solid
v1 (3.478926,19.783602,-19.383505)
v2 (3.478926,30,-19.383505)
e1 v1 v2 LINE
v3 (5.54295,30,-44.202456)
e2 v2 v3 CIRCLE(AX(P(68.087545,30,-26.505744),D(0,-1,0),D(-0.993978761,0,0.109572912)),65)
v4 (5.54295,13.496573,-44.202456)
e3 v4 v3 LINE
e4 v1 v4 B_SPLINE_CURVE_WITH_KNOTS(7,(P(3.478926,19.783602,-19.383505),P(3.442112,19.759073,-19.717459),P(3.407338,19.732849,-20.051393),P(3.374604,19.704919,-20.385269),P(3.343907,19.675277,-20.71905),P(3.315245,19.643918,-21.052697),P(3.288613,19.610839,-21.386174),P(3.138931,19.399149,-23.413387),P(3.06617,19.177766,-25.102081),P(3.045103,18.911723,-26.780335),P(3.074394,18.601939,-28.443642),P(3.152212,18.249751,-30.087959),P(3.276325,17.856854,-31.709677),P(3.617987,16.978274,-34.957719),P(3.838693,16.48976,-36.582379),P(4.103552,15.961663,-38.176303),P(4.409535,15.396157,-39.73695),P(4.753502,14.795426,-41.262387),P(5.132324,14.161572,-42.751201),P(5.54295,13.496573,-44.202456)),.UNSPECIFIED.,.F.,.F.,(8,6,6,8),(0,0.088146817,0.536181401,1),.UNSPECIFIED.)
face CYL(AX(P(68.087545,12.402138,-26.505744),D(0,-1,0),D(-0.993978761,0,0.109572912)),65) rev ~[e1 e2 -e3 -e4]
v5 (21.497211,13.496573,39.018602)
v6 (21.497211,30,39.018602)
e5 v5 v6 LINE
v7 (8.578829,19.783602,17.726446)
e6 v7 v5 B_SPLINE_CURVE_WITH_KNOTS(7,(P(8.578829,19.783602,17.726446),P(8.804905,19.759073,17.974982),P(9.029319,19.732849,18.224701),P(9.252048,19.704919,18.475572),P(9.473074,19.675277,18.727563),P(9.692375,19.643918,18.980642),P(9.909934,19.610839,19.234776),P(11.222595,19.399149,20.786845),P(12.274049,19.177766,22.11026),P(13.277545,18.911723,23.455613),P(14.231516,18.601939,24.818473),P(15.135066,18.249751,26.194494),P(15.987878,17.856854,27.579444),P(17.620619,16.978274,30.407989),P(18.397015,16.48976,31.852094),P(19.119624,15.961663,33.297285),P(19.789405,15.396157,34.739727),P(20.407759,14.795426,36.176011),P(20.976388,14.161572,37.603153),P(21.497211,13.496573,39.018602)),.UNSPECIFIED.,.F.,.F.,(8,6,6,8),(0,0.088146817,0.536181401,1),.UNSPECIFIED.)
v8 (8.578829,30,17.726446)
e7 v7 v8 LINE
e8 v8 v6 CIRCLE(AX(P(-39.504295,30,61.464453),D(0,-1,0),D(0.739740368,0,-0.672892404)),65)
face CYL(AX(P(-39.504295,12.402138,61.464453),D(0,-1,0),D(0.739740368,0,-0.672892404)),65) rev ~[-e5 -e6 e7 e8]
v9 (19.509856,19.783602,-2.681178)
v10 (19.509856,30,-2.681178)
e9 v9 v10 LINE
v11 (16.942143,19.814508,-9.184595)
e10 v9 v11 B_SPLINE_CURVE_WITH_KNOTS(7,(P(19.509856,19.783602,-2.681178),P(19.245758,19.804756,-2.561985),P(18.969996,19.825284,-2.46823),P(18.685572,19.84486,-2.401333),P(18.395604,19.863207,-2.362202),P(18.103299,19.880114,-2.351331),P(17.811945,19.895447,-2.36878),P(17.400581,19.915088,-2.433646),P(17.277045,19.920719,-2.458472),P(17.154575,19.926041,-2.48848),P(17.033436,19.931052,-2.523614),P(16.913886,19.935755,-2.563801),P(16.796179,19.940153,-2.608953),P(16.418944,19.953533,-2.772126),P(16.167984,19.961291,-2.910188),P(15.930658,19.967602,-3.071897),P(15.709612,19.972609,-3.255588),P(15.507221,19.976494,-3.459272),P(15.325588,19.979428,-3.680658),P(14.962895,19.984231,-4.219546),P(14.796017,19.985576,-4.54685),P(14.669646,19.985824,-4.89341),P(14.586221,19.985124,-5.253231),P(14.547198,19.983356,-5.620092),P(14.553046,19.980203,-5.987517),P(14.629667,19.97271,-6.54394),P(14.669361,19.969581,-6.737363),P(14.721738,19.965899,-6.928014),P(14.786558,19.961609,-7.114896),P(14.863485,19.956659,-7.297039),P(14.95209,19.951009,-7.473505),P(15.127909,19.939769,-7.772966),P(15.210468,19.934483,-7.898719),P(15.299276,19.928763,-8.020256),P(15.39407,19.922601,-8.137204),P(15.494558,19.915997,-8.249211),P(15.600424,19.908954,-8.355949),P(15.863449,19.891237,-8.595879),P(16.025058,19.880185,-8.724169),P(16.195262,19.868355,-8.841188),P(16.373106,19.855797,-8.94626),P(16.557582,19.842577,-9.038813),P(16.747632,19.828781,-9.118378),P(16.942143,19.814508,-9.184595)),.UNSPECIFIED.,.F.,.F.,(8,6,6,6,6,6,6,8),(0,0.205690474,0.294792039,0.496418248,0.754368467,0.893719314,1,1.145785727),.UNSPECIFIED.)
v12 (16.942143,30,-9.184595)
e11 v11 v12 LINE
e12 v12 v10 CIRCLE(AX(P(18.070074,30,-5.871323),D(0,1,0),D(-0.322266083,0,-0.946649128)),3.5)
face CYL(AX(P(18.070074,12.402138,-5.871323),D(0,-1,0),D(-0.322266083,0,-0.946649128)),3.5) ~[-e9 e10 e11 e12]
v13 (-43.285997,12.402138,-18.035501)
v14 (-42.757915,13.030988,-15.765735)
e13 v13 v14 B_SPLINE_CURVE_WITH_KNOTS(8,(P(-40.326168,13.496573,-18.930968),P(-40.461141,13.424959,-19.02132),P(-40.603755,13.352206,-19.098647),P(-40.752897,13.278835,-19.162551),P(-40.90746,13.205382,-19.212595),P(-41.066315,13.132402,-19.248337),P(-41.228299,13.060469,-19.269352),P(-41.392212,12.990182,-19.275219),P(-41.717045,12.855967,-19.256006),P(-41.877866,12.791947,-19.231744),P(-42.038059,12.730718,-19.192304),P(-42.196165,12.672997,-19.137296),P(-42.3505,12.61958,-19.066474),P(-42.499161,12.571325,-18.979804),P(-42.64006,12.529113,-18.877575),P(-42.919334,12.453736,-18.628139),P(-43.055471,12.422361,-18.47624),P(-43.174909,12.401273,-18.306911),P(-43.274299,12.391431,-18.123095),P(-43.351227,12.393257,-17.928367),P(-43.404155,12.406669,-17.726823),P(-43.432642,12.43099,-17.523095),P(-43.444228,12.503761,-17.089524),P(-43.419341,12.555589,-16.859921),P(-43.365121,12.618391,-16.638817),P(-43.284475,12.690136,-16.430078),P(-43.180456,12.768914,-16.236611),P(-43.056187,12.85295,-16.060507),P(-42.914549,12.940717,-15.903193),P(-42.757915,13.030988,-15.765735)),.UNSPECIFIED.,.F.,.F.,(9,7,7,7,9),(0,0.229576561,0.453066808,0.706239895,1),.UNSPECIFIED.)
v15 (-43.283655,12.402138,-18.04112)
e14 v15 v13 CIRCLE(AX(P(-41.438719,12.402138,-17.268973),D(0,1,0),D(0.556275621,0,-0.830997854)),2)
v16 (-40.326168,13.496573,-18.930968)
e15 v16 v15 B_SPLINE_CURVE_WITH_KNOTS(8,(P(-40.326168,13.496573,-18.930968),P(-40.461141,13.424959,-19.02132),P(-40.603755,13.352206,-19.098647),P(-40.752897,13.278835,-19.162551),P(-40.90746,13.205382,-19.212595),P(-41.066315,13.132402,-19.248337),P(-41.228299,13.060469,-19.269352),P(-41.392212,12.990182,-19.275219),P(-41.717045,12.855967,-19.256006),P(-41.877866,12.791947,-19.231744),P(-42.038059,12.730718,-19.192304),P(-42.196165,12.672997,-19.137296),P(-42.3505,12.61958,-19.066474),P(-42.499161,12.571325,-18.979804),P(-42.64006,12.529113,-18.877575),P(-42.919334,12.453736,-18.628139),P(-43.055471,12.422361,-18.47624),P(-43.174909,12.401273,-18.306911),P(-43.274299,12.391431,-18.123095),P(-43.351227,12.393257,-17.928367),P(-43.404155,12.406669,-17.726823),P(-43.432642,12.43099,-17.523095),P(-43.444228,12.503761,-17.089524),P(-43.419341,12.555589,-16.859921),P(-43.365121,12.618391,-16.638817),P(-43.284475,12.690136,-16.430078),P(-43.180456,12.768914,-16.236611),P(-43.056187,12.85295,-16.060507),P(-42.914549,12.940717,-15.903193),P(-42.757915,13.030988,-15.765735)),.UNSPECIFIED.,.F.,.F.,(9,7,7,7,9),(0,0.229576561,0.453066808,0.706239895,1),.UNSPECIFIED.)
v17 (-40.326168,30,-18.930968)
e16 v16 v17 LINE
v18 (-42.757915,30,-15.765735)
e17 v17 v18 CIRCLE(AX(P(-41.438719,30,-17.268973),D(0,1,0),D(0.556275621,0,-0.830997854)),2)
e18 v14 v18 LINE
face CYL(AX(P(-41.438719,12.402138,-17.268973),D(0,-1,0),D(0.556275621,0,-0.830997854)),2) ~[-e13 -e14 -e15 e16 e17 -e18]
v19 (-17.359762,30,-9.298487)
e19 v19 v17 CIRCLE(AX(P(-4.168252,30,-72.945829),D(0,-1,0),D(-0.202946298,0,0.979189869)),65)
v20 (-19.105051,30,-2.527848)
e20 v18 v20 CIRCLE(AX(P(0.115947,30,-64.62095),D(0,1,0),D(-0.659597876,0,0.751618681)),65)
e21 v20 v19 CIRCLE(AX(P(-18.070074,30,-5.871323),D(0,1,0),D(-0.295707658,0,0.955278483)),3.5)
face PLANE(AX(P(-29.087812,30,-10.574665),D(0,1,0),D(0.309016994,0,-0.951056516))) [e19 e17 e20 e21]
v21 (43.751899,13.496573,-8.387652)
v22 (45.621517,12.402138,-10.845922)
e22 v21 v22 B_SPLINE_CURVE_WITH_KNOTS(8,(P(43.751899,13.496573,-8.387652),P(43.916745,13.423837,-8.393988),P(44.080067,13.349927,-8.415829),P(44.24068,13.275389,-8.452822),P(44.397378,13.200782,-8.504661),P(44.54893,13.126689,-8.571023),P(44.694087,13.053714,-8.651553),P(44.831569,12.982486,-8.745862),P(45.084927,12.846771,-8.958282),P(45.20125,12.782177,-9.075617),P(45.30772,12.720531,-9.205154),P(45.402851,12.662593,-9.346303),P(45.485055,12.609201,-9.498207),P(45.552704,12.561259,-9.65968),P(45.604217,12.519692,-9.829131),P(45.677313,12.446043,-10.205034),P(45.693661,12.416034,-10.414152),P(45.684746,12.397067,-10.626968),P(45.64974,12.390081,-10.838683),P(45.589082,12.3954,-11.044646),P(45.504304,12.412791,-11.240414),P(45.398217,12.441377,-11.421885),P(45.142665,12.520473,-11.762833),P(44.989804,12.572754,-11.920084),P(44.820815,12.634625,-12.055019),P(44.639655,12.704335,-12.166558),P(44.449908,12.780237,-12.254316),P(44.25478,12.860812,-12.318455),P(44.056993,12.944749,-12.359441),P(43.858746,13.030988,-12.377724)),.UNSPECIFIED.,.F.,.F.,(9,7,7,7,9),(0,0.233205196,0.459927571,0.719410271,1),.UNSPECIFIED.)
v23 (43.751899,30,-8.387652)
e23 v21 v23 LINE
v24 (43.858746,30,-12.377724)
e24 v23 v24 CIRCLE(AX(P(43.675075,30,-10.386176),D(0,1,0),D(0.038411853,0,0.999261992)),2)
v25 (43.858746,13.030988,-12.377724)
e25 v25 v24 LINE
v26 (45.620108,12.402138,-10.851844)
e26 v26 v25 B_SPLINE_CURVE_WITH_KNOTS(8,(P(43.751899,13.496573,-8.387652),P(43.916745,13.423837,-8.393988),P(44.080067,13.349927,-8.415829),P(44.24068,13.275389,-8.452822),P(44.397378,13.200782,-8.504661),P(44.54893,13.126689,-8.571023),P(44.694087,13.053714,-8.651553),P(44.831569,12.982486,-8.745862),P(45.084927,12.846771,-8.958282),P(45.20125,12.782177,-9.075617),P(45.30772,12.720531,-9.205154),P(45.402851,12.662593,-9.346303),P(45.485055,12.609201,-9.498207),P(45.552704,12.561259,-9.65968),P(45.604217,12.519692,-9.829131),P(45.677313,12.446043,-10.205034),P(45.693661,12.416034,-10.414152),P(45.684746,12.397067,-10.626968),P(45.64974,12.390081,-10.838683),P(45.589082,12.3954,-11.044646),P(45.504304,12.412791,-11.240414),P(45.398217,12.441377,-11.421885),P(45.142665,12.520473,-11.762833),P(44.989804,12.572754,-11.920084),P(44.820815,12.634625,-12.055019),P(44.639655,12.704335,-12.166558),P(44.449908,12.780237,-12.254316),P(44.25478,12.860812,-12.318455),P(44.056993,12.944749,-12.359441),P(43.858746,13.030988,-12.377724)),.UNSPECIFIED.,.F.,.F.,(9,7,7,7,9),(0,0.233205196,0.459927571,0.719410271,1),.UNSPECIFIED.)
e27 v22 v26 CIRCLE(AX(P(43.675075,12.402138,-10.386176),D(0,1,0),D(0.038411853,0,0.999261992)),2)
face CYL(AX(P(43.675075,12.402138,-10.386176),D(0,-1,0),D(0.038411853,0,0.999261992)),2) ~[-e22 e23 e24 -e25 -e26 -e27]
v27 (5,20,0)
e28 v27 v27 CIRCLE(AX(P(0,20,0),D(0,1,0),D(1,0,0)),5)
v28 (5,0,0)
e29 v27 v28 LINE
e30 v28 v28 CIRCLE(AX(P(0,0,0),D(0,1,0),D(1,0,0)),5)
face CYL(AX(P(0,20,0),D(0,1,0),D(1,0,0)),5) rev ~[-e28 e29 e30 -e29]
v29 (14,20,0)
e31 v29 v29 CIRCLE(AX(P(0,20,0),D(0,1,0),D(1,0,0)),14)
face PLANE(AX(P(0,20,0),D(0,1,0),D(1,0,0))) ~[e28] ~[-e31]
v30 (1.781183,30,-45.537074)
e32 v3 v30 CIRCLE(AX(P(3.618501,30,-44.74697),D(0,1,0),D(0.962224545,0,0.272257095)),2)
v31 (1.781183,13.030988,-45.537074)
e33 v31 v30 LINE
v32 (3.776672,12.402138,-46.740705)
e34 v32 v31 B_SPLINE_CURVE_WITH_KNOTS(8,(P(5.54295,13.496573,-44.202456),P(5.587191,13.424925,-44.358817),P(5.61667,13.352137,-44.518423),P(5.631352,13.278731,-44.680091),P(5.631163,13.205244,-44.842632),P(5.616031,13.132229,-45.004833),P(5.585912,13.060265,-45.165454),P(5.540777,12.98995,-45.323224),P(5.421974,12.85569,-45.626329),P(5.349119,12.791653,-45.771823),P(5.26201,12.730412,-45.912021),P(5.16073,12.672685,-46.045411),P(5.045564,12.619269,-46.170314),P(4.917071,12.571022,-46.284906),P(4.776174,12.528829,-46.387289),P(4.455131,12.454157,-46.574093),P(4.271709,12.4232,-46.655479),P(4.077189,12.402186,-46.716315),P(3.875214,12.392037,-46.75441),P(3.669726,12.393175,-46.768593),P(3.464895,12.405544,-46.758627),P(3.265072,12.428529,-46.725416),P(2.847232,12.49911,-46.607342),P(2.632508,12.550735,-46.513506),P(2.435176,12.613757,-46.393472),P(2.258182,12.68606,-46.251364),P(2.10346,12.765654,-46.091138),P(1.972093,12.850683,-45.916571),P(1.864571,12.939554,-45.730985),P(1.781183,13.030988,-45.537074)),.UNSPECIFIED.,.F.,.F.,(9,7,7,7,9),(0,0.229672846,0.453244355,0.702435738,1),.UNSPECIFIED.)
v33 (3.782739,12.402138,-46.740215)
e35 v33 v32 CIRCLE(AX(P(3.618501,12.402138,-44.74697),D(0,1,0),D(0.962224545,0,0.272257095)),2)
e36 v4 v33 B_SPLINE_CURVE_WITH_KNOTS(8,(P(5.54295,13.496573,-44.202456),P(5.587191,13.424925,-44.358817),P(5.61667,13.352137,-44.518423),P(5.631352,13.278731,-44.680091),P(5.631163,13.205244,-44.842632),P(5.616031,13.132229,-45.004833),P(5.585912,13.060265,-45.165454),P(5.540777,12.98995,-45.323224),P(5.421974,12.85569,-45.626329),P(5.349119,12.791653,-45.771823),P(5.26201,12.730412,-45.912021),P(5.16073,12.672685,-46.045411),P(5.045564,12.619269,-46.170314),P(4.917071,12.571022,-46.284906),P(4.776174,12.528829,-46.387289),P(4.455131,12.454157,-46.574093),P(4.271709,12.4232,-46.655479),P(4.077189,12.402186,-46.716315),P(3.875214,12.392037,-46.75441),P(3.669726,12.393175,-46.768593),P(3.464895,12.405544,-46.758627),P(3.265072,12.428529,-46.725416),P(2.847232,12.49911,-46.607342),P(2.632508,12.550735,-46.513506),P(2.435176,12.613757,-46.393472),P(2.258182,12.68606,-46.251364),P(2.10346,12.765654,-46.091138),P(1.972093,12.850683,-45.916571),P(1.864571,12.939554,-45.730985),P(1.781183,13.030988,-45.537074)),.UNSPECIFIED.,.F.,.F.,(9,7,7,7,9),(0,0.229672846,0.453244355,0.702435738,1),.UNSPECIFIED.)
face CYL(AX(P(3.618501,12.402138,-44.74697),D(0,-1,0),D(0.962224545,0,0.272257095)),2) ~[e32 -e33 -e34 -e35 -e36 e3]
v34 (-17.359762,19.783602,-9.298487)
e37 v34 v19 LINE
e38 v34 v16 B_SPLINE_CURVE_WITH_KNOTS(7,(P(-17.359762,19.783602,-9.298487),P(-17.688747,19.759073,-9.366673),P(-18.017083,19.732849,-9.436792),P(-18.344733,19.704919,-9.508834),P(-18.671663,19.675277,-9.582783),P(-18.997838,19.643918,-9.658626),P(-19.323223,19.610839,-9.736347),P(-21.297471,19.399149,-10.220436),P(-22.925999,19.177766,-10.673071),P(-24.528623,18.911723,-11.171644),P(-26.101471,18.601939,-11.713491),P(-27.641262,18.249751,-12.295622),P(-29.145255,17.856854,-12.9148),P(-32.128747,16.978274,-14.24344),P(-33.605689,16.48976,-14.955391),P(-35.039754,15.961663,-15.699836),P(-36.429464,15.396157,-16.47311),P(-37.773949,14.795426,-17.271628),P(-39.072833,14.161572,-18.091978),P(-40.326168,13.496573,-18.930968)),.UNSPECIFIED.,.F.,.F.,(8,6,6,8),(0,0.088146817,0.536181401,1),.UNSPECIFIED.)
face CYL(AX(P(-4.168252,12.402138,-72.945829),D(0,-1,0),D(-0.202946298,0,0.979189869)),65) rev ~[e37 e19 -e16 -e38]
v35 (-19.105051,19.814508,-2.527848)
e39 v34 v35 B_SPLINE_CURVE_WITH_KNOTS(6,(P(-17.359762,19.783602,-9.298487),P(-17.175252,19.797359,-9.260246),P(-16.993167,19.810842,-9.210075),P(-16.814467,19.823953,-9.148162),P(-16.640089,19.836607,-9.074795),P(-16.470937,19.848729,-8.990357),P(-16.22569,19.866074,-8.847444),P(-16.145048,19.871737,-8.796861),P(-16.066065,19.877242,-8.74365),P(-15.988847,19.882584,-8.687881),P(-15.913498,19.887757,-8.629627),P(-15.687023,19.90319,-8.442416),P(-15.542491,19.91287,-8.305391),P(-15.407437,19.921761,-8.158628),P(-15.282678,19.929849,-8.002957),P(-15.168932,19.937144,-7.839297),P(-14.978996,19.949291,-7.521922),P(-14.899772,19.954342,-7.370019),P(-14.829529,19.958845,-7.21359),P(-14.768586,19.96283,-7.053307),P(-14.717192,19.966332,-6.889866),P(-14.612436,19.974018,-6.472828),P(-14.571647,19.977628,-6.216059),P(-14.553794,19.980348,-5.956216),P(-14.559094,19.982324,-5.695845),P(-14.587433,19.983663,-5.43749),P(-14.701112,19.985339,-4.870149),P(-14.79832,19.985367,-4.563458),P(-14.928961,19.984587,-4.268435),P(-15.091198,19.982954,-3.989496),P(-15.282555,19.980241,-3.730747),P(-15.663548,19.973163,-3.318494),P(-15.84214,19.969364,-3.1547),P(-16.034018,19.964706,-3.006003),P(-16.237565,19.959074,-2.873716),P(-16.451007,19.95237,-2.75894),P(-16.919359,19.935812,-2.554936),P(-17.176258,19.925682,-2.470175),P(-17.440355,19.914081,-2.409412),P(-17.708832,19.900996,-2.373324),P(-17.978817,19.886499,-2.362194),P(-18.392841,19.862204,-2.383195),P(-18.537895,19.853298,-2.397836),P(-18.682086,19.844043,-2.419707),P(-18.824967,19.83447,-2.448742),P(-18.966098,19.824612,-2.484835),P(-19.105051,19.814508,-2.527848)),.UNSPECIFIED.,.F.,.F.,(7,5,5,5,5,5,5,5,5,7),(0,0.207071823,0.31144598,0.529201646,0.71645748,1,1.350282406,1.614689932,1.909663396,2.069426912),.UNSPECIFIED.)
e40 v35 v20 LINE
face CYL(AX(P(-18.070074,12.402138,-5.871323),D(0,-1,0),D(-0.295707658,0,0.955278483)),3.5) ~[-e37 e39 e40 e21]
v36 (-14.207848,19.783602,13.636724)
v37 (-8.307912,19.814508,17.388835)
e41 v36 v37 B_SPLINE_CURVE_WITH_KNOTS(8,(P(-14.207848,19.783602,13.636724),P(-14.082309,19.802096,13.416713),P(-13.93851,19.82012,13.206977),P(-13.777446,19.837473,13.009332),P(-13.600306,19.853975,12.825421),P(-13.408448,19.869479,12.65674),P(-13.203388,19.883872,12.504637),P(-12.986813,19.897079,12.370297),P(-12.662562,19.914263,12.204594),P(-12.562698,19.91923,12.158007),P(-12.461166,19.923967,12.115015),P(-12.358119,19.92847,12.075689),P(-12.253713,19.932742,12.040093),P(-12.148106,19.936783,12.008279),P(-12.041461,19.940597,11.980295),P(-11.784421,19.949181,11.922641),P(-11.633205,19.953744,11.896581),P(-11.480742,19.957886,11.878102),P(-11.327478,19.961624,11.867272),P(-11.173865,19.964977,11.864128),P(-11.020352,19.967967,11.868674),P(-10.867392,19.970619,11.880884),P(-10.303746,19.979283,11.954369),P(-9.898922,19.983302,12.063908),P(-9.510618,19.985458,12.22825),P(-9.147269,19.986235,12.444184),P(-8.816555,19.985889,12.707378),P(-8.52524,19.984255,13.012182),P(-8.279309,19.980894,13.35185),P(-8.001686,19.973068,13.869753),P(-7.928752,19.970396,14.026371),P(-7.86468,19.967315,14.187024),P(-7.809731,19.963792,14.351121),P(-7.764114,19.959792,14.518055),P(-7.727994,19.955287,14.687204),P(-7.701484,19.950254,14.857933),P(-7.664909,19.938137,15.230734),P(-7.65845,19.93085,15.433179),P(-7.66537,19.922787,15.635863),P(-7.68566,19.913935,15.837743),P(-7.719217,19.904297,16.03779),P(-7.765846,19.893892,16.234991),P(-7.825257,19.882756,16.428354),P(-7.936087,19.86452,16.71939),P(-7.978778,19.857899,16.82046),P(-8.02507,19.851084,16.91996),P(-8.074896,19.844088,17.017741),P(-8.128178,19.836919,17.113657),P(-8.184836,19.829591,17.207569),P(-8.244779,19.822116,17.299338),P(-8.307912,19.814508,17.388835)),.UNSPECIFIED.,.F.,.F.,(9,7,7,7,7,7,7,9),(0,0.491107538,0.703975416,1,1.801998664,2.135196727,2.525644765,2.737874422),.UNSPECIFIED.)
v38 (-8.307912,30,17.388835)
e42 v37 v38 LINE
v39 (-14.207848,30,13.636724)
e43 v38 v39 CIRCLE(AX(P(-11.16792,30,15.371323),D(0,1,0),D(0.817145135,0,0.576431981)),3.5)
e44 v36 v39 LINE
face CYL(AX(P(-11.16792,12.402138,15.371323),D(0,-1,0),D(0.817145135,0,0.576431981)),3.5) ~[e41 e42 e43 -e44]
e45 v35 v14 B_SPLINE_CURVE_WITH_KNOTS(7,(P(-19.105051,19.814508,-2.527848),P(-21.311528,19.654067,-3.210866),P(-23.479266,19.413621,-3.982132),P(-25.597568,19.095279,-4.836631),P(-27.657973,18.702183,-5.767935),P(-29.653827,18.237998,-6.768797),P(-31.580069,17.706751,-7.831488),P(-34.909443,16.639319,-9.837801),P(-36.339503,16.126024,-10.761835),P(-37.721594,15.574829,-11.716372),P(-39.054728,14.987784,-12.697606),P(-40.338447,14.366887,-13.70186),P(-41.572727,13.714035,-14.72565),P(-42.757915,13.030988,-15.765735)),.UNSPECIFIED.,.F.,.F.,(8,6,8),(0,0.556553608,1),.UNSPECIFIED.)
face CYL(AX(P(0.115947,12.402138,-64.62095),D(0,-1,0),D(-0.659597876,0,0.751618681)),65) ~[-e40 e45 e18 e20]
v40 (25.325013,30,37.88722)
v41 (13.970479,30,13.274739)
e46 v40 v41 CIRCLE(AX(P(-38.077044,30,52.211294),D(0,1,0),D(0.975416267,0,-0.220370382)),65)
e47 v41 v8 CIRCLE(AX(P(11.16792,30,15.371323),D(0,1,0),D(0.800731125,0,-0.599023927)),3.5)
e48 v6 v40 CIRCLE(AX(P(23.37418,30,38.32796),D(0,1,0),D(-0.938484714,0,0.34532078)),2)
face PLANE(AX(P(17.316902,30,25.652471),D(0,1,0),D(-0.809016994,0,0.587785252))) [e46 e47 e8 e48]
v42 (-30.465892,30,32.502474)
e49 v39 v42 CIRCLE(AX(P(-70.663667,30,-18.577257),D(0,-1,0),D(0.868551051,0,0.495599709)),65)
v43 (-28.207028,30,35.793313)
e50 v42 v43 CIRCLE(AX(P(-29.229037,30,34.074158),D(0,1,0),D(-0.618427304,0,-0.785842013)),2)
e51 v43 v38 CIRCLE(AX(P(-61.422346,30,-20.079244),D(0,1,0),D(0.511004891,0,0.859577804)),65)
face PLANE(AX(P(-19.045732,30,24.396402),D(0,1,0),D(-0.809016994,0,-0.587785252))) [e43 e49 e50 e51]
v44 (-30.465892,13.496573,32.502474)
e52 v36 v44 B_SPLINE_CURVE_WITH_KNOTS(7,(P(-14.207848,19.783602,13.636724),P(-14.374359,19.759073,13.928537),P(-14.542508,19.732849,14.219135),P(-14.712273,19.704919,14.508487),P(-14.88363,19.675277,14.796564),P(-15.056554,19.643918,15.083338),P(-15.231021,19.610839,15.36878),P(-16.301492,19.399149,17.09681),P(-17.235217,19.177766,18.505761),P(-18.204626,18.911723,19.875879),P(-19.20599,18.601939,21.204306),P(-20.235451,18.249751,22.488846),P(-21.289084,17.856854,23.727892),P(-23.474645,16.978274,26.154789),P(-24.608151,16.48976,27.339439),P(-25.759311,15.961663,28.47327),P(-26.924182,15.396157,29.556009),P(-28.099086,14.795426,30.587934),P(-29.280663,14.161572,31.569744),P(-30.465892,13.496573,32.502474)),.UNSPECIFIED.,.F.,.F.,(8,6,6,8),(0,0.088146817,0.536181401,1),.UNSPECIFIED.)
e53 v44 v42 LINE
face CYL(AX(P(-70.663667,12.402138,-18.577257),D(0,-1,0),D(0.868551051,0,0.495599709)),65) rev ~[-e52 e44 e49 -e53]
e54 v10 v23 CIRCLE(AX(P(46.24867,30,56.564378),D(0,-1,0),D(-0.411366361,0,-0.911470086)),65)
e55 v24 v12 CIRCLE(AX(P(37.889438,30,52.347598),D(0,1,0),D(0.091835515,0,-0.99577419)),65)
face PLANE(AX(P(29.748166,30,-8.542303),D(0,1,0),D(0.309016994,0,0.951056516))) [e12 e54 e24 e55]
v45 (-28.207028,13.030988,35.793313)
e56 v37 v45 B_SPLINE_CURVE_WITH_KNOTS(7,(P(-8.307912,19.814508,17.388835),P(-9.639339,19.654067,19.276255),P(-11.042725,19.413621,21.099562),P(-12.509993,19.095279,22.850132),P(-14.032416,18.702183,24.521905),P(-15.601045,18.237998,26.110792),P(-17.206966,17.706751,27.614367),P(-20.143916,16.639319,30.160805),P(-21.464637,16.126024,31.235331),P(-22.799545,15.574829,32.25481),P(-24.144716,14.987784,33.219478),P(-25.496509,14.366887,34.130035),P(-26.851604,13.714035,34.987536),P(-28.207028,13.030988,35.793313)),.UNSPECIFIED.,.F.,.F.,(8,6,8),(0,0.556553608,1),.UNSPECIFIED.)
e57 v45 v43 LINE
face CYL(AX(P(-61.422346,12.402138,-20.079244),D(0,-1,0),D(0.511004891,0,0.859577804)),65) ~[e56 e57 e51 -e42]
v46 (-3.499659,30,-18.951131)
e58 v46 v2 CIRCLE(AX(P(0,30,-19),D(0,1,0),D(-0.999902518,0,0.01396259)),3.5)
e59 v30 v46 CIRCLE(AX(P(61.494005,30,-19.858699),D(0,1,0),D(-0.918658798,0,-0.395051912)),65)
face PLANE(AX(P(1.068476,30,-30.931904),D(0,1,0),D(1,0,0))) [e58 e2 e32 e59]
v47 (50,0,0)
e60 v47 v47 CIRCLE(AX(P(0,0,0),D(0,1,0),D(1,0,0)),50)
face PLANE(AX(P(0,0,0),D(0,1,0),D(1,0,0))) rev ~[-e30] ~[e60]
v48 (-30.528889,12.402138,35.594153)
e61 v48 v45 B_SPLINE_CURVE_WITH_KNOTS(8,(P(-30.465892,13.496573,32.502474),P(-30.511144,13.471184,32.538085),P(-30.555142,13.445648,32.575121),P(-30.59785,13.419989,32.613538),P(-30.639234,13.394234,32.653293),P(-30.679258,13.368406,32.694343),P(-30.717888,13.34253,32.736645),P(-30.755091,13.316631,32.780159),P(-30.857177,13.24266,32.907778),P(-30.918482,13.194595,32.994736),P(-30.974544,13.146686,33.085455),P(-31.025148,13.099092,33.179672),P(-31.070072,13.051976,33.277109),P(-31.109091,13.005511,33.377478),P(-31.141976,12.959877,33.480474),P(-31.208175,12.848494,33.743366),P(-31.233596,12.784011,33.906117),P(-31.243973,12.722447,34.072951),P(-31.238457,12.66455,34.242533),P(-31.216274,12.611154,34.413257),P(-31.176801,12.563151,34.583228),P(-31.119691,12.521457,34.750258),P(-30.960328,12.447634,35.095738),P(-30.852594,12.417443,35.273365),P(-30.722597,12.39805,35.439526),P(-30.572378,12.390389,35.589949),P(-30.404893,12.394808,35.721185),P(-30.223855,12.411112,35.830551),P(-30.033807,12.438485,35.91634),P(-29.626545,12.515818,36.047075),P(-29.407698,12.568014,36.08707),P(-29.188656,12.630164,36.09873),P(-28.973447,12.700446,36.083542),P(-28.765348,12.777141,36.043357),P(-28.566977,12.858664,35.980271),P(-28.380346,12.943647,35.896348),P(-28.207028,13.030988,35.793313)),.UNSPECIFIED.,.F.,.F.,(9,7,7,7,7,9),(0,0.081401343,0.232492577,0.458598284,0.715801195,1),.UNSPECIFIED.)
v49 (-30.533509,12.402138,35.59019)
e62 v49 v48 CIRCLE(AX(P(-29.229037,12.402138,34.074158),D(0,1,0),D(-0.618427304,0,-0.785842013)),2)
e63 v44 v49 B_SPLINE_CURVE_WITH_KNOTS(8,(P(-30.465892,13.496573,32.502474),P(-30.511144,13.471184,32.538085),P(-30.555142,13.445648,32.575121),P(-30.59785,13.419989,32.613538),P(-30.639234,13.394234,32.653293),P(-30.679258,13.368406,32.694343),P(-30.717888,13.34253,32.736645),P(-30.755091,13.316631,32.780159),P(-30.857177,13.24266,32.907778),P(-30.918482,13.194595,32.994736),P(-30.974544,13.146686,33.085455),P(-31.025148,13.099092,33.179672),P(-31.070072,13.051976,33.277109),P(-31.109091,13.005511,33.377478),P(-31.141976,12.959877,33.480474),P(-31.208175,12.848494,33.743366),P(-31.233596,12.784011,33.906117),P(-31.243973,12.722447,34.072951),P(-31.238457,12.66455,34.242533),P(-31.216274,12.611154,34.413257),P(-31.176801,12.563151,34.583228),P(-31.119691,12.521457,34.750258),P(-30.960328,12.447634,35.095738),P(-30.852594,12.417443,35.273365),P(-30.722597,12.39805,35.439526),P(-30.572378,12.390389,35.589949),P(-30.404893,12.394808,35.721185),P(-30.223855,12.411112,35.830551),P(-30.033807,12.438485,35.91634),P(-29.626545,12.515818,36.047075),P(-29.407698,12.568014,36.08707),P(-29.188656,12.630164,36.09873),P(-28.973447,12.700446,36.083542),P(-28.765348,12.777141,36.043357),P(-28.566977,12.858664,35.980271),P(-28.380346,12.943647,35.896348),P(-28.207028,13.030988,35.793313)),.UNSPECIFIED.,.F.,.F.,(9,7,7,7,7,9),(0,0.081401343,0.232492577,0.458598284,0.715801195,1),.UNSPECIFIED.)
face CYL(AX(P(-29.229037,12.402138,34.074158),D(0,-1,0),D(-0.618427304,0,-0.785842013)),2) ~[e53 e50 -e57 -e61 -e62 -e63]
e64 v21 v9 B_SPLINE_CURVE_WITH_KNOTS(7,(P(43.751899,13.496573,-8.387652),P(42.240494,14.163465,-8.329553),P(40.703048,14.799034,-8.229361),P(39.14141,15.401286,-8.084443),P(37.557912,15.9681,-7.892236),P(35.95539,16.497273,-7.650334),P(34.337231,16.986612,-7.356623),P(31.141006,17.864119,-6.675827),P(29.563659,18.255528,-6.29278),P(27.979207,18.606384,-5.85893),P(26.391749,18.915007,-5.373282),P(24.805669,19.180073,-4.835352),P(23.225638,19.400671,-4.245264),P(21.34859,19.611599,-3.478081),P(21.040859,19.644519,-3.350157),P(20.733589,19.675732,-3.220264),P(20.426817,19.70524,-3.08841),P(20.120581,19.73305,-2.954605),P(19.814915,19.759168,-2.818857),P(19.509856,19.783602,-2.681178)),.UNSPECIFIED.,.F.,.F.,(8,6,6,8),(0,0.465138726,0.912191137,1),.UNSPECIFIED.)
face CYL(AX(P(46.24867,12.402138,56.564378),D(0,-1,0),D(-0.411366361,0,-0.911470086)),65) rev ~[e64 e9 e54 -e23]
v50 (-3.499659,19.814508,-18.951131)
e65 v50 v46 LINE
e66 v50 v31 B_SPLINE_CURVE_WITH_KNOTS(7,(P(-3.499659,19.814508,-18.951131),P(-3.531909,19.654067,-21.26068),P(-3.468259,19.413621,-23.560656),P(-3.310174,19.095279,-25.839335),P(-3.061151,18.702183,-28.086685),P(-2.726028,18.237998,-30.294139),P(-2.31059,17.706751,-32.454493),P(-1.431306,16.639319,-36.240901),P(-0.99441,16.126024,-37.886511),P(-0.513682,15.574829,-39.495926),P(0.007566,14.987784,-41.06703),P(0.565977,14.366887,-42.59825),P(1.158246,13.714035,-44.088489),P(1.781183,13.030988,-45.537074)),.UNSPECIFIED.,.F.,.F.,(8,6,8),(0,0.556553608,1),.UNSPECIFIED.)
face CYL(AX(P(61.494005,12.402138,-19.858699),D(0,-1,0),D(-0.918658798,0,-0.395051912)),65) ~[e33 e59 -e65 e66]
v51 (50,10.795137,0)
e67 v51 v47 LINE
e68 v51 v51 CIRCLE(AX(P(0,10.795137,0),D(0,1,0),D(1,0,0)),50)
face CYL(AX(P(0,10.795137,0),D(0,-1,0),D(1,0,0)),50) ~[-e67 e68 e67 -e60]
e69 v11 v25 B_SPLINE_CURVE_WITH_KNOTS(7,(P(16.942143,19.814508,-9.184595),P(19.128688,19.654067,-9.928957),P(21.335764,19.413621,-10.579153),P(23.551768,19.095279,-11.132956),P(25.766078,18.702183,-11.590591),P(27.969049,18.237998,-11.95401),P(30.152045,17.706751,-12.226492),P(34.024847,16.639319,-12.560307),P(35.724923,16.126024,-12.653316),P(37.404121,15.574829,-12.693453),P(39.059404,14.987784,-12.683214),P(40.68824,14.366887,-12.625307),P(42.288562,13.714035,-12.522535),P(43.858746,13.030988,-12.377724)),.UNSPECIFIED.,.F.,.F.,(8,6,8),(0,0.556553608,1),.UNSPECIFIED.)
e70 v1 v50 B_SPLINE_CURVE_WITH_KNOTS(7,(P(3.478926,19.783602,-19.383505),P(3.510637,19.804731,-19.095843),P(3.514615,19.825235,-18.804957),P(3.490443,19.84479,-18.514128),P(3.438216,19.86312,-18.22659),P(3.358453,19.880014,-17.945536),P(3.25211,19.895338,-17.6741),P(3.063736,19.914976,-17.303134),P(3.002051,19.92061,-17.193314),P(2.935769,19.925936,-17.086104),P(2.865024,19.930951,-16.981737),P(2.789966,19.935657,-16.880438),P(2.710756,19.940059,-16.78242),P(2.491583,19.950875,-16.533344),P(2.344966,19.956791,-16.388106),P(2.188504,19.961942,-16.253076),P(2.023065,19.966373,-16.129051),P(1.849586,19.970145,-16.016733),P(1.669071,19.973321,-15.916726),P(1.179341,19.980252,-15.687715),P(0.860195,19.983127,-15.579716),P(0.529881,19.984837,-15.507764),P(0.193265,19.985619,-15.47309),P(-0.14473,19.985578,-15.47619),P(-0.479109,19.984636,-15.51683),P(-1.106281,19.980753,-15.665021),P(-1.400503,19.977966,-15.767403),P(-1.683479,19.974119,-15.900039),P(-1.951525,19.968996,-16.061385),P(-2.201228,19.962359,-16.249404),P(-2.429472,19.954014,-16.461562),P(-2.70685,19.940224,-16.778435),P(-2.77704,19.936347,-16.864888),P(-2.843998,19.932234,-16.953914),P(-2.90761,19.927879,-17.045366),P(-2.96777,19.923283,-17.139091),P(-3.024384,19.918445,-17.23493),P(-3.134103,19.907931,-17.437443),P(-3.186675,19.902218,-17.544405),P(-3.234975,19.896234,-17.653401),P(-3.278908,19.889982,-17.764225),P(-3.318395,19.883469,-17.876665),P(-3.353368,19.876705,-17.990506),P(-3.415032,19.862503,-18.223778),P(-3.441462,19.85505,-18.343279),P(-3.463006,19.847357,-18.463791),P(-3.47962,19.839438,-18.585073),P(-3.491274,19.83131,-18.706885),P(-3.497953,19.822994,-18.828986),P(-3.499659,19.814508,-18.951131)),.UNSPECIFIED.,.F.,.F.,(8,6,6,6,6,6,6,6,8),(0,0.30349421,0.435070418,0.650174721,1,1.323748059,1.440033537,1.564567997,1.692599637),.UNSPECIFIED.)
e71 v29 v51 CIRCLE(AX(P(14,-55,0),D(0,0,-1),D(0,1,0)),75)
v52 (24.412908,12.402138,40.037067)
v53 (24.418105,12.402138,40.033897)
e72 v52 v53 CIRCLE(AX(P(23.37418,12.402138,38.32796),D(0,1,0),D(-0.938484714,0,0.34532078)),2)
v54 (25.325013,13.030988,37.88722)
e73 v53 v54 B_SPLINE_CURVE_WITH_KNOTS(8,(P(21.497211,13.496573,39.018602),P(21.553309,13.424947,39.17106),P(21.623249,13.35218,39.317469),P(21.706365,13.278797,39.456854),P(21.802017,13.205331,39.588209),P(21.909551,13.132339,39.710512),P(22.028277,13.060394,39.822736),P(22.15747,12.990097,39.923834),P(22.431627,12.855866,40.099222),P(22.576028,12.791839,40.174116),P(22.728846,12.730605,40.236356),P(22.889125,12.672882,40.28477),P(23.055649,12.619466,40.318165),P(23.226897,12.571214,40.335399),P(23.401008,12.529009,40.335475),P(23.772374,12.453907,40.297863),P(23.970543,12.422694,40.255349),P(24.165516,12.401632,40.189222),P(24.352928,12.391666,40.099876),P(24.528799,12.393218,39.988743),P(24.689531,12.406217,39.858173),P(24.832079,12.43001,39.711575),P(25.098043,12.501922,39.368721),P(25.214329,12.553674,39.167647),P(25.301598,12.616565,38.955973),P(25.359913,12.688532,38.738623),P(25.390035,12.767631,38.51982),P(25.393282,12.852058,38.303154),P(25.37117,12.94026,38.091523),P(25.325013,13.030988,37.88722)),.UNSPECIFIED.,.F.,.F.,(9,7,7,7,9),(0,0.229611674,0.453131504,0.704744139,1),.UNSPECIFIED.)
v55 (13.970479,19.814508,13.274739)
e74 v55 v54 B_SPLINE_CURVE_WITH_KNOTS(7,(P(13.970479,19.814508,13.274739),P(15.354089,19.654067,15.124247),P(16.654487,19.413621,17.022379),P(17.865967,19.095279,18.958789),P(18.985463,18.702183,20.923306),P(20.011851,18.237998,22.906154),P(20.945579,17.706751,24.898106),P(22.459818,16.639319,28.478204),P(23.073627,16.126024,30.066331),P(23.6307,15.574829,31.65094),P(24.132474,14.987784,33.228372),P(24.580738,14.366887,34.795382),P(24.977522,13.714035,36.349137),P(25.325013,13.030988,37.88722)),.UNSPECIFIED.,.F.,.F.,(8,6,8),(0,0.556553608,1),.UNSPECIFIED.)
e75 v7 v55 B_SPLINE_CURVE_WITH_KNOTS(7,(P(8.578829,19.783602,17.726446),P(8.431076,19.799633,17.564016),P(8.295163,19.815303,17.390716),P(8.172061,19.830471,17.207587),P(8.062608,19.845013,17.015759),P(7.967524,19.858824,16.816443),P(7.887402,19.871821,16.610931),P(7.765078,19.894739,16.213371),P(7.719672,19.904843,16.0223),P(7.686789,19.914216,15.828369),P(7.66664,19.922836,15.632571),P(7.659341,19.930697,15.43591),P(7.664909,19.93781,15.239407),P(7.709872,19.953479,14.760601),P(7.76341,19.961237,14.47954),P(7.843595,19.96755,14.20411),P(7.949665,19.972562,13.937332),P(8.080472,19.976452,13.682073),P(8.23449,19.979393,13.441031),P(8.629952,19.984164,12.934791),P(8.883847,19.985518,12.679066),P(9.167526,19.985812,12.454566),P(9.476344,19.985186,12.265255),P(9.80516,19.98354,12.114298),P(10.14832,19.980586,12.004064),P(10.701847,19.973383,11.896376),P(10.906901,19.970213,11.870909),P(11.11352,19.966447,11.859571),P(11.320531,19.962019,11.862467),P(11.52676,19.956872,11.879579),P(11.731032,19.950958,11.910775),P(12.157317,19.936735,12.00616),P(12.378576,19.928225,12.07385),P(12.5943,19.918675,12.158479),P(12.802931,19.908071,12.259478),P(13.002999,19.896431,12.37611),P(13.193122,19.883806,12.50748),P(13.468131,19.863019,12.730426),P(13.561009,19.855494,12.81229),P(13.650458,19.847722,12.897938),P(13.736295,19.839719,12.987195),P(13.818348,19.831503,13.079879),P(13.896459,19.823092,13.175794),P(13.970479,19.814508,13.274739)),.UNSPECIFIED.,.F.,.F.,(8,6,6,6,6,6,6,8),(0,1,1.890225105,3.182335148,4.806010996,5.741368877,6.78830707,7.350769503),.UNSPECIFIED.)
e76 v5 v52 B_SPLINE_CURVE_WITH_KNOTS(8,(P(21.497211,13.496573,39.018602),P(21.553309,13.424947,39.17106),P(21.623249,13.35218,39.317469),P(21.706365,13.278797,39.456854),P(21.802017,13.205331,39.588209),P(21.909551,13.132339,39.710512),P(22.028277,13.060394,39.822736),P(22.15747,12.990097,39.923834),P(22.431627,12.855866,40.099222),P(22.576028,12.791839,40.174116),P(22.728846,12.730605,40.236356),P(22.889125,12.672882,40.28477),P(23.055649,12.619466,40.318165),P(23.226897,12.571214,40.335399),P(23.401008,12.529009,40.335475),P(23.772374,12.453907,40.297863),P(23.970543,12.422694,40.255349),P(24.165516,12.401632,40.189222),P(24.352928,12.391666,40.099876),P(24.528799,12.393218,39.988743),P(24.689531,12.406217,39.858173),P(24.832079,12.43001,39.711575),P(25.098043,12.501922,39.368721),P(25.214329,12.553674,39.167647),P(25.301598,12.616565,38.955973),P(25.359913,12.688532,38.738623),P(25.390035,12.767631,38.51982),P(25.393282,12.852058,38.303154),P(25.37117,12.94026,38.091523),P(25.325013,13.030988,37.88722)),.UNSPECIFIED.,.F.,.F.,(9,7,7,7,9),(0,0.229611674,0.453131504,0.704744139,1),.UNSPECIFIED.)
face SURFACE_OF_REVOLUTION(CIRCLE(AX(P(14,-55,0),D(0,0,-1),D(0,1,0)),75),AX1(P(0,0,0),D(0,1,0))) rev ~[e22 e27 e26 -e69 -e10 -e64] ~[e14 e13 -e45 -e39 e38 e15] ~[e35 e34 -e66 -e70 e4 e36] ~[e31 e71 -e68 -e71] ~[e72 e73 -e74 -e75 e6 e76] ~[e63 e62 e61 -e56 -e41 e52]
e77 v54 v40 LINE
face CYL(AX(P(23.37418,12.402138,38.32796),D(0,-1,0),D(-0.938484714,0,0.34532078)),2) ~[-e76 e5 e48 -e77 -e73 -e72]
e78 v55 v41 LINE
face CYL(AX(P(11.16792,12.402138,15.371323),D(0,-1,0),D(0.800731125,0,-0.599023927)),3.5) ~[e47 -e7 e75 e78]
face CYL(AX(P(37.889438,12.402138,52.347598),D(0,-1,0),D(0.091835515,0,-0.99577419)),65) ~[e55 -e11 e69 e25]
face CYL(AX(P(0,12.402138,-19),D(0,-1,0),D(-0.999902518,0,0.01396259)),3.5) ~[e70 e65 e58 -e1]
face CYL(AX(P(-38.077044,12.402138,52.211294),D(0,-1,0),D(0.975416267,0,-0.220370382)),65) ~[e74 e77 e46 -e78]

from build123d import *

# Parameters (mm, degrees)
ODEBRAT_VYSUNUT_M1_REACH = 22
SKICA2_R                 = 5
P_IDAT_START             = -7.597862
P_IDAT_VYSUNUT_M1_DEPTH  = 17.597862
KRUHOV_POLE1_COUNT       = 5


with BuildPart() as part:
    # Skica1 → Rotovat1 (revolve)
    with BuildSketch(Plane.XY):
        with BuildLine():
            Line((0, 0), (0, 20))
            Line((0, 20), (14, 20))
            ThreePointArc((14, 20), (32.579084411, 17.662353543), (50, 10.795136598))
            Line((50, 10.795136598), (50, 0))
            Line((50, 0), (0, 0))
        make_face()
    revolve(axis=Axis((0, 0, 0), (0, 1, 0)))

    # Skica2 → Odebrat vysunutím1 (cut, up to next)
    with BuildSketch(Plane(origin=(0, 20, 0), x_dir=(1, 0, 0), z_dir=(0, 1, 0)), mode=Mode.PRIVATE) as odebrat_vysunut_m1_sk1:
        Circle(SKICA2_R)
    odebrat_vysunut_m1_tool1 = extrude(odebrat_vysunut_m1_sk1.sketch, amount=-ODEBRAT_VYSUNUT_M1_REACH, mode=Mode.PRIVATE) & part.part
    add(odebrat_vysunut_m1_tool1.solids().sort_by_distance((0, 20, 0))[0], mode=Mode.SUBTRACT)

    # Skica3 → Přidat vysunutím1 (add)
    with BuildSketch(Plane(origin=(0, 20, 0), x_dir=(1, 0, 0), z_dir=(0, 1, 0)).offset(P_IDAT_START)):
        with BuildLine():
            ThreePointArc((5.542949714, 44.202455598), (4.287230231, 46.631857241), (1.78118303, 45.537073612))
            ThreePointArc((1.78118303, 45.537073612), (-2.260445719, 32.522428192), (-3.499658814, 18.951130934))
            ThreePointArc((-3.499658814, 18.951130934), (0.216435534, 15.506698459), (3.478925663, 19.383505191))
            ThreePointArc((3.478925663, 19.383505191), (3.31115986, 31.892757792), (5.542949714, 44.202455598))
        make_face()
    p_idat_vysunut_m1 = extrude(amount=P_IDAT_VYSUNUT_M1_DEPTH)

    # Kruhové pole1: Přidat vysunutím1 ×5 about axis
    kruhov_pole1_axis = Axis((0, 0, 0), (0, 1, 0))
    for i in range(1, KRUHOV_POLE1_COUNT):
        add(p_idat_vysunut_m1.rotate(kruhov_pole1_axis, i * 360 / KRUHOV_POLE1_COUNT))


solid = part.part
